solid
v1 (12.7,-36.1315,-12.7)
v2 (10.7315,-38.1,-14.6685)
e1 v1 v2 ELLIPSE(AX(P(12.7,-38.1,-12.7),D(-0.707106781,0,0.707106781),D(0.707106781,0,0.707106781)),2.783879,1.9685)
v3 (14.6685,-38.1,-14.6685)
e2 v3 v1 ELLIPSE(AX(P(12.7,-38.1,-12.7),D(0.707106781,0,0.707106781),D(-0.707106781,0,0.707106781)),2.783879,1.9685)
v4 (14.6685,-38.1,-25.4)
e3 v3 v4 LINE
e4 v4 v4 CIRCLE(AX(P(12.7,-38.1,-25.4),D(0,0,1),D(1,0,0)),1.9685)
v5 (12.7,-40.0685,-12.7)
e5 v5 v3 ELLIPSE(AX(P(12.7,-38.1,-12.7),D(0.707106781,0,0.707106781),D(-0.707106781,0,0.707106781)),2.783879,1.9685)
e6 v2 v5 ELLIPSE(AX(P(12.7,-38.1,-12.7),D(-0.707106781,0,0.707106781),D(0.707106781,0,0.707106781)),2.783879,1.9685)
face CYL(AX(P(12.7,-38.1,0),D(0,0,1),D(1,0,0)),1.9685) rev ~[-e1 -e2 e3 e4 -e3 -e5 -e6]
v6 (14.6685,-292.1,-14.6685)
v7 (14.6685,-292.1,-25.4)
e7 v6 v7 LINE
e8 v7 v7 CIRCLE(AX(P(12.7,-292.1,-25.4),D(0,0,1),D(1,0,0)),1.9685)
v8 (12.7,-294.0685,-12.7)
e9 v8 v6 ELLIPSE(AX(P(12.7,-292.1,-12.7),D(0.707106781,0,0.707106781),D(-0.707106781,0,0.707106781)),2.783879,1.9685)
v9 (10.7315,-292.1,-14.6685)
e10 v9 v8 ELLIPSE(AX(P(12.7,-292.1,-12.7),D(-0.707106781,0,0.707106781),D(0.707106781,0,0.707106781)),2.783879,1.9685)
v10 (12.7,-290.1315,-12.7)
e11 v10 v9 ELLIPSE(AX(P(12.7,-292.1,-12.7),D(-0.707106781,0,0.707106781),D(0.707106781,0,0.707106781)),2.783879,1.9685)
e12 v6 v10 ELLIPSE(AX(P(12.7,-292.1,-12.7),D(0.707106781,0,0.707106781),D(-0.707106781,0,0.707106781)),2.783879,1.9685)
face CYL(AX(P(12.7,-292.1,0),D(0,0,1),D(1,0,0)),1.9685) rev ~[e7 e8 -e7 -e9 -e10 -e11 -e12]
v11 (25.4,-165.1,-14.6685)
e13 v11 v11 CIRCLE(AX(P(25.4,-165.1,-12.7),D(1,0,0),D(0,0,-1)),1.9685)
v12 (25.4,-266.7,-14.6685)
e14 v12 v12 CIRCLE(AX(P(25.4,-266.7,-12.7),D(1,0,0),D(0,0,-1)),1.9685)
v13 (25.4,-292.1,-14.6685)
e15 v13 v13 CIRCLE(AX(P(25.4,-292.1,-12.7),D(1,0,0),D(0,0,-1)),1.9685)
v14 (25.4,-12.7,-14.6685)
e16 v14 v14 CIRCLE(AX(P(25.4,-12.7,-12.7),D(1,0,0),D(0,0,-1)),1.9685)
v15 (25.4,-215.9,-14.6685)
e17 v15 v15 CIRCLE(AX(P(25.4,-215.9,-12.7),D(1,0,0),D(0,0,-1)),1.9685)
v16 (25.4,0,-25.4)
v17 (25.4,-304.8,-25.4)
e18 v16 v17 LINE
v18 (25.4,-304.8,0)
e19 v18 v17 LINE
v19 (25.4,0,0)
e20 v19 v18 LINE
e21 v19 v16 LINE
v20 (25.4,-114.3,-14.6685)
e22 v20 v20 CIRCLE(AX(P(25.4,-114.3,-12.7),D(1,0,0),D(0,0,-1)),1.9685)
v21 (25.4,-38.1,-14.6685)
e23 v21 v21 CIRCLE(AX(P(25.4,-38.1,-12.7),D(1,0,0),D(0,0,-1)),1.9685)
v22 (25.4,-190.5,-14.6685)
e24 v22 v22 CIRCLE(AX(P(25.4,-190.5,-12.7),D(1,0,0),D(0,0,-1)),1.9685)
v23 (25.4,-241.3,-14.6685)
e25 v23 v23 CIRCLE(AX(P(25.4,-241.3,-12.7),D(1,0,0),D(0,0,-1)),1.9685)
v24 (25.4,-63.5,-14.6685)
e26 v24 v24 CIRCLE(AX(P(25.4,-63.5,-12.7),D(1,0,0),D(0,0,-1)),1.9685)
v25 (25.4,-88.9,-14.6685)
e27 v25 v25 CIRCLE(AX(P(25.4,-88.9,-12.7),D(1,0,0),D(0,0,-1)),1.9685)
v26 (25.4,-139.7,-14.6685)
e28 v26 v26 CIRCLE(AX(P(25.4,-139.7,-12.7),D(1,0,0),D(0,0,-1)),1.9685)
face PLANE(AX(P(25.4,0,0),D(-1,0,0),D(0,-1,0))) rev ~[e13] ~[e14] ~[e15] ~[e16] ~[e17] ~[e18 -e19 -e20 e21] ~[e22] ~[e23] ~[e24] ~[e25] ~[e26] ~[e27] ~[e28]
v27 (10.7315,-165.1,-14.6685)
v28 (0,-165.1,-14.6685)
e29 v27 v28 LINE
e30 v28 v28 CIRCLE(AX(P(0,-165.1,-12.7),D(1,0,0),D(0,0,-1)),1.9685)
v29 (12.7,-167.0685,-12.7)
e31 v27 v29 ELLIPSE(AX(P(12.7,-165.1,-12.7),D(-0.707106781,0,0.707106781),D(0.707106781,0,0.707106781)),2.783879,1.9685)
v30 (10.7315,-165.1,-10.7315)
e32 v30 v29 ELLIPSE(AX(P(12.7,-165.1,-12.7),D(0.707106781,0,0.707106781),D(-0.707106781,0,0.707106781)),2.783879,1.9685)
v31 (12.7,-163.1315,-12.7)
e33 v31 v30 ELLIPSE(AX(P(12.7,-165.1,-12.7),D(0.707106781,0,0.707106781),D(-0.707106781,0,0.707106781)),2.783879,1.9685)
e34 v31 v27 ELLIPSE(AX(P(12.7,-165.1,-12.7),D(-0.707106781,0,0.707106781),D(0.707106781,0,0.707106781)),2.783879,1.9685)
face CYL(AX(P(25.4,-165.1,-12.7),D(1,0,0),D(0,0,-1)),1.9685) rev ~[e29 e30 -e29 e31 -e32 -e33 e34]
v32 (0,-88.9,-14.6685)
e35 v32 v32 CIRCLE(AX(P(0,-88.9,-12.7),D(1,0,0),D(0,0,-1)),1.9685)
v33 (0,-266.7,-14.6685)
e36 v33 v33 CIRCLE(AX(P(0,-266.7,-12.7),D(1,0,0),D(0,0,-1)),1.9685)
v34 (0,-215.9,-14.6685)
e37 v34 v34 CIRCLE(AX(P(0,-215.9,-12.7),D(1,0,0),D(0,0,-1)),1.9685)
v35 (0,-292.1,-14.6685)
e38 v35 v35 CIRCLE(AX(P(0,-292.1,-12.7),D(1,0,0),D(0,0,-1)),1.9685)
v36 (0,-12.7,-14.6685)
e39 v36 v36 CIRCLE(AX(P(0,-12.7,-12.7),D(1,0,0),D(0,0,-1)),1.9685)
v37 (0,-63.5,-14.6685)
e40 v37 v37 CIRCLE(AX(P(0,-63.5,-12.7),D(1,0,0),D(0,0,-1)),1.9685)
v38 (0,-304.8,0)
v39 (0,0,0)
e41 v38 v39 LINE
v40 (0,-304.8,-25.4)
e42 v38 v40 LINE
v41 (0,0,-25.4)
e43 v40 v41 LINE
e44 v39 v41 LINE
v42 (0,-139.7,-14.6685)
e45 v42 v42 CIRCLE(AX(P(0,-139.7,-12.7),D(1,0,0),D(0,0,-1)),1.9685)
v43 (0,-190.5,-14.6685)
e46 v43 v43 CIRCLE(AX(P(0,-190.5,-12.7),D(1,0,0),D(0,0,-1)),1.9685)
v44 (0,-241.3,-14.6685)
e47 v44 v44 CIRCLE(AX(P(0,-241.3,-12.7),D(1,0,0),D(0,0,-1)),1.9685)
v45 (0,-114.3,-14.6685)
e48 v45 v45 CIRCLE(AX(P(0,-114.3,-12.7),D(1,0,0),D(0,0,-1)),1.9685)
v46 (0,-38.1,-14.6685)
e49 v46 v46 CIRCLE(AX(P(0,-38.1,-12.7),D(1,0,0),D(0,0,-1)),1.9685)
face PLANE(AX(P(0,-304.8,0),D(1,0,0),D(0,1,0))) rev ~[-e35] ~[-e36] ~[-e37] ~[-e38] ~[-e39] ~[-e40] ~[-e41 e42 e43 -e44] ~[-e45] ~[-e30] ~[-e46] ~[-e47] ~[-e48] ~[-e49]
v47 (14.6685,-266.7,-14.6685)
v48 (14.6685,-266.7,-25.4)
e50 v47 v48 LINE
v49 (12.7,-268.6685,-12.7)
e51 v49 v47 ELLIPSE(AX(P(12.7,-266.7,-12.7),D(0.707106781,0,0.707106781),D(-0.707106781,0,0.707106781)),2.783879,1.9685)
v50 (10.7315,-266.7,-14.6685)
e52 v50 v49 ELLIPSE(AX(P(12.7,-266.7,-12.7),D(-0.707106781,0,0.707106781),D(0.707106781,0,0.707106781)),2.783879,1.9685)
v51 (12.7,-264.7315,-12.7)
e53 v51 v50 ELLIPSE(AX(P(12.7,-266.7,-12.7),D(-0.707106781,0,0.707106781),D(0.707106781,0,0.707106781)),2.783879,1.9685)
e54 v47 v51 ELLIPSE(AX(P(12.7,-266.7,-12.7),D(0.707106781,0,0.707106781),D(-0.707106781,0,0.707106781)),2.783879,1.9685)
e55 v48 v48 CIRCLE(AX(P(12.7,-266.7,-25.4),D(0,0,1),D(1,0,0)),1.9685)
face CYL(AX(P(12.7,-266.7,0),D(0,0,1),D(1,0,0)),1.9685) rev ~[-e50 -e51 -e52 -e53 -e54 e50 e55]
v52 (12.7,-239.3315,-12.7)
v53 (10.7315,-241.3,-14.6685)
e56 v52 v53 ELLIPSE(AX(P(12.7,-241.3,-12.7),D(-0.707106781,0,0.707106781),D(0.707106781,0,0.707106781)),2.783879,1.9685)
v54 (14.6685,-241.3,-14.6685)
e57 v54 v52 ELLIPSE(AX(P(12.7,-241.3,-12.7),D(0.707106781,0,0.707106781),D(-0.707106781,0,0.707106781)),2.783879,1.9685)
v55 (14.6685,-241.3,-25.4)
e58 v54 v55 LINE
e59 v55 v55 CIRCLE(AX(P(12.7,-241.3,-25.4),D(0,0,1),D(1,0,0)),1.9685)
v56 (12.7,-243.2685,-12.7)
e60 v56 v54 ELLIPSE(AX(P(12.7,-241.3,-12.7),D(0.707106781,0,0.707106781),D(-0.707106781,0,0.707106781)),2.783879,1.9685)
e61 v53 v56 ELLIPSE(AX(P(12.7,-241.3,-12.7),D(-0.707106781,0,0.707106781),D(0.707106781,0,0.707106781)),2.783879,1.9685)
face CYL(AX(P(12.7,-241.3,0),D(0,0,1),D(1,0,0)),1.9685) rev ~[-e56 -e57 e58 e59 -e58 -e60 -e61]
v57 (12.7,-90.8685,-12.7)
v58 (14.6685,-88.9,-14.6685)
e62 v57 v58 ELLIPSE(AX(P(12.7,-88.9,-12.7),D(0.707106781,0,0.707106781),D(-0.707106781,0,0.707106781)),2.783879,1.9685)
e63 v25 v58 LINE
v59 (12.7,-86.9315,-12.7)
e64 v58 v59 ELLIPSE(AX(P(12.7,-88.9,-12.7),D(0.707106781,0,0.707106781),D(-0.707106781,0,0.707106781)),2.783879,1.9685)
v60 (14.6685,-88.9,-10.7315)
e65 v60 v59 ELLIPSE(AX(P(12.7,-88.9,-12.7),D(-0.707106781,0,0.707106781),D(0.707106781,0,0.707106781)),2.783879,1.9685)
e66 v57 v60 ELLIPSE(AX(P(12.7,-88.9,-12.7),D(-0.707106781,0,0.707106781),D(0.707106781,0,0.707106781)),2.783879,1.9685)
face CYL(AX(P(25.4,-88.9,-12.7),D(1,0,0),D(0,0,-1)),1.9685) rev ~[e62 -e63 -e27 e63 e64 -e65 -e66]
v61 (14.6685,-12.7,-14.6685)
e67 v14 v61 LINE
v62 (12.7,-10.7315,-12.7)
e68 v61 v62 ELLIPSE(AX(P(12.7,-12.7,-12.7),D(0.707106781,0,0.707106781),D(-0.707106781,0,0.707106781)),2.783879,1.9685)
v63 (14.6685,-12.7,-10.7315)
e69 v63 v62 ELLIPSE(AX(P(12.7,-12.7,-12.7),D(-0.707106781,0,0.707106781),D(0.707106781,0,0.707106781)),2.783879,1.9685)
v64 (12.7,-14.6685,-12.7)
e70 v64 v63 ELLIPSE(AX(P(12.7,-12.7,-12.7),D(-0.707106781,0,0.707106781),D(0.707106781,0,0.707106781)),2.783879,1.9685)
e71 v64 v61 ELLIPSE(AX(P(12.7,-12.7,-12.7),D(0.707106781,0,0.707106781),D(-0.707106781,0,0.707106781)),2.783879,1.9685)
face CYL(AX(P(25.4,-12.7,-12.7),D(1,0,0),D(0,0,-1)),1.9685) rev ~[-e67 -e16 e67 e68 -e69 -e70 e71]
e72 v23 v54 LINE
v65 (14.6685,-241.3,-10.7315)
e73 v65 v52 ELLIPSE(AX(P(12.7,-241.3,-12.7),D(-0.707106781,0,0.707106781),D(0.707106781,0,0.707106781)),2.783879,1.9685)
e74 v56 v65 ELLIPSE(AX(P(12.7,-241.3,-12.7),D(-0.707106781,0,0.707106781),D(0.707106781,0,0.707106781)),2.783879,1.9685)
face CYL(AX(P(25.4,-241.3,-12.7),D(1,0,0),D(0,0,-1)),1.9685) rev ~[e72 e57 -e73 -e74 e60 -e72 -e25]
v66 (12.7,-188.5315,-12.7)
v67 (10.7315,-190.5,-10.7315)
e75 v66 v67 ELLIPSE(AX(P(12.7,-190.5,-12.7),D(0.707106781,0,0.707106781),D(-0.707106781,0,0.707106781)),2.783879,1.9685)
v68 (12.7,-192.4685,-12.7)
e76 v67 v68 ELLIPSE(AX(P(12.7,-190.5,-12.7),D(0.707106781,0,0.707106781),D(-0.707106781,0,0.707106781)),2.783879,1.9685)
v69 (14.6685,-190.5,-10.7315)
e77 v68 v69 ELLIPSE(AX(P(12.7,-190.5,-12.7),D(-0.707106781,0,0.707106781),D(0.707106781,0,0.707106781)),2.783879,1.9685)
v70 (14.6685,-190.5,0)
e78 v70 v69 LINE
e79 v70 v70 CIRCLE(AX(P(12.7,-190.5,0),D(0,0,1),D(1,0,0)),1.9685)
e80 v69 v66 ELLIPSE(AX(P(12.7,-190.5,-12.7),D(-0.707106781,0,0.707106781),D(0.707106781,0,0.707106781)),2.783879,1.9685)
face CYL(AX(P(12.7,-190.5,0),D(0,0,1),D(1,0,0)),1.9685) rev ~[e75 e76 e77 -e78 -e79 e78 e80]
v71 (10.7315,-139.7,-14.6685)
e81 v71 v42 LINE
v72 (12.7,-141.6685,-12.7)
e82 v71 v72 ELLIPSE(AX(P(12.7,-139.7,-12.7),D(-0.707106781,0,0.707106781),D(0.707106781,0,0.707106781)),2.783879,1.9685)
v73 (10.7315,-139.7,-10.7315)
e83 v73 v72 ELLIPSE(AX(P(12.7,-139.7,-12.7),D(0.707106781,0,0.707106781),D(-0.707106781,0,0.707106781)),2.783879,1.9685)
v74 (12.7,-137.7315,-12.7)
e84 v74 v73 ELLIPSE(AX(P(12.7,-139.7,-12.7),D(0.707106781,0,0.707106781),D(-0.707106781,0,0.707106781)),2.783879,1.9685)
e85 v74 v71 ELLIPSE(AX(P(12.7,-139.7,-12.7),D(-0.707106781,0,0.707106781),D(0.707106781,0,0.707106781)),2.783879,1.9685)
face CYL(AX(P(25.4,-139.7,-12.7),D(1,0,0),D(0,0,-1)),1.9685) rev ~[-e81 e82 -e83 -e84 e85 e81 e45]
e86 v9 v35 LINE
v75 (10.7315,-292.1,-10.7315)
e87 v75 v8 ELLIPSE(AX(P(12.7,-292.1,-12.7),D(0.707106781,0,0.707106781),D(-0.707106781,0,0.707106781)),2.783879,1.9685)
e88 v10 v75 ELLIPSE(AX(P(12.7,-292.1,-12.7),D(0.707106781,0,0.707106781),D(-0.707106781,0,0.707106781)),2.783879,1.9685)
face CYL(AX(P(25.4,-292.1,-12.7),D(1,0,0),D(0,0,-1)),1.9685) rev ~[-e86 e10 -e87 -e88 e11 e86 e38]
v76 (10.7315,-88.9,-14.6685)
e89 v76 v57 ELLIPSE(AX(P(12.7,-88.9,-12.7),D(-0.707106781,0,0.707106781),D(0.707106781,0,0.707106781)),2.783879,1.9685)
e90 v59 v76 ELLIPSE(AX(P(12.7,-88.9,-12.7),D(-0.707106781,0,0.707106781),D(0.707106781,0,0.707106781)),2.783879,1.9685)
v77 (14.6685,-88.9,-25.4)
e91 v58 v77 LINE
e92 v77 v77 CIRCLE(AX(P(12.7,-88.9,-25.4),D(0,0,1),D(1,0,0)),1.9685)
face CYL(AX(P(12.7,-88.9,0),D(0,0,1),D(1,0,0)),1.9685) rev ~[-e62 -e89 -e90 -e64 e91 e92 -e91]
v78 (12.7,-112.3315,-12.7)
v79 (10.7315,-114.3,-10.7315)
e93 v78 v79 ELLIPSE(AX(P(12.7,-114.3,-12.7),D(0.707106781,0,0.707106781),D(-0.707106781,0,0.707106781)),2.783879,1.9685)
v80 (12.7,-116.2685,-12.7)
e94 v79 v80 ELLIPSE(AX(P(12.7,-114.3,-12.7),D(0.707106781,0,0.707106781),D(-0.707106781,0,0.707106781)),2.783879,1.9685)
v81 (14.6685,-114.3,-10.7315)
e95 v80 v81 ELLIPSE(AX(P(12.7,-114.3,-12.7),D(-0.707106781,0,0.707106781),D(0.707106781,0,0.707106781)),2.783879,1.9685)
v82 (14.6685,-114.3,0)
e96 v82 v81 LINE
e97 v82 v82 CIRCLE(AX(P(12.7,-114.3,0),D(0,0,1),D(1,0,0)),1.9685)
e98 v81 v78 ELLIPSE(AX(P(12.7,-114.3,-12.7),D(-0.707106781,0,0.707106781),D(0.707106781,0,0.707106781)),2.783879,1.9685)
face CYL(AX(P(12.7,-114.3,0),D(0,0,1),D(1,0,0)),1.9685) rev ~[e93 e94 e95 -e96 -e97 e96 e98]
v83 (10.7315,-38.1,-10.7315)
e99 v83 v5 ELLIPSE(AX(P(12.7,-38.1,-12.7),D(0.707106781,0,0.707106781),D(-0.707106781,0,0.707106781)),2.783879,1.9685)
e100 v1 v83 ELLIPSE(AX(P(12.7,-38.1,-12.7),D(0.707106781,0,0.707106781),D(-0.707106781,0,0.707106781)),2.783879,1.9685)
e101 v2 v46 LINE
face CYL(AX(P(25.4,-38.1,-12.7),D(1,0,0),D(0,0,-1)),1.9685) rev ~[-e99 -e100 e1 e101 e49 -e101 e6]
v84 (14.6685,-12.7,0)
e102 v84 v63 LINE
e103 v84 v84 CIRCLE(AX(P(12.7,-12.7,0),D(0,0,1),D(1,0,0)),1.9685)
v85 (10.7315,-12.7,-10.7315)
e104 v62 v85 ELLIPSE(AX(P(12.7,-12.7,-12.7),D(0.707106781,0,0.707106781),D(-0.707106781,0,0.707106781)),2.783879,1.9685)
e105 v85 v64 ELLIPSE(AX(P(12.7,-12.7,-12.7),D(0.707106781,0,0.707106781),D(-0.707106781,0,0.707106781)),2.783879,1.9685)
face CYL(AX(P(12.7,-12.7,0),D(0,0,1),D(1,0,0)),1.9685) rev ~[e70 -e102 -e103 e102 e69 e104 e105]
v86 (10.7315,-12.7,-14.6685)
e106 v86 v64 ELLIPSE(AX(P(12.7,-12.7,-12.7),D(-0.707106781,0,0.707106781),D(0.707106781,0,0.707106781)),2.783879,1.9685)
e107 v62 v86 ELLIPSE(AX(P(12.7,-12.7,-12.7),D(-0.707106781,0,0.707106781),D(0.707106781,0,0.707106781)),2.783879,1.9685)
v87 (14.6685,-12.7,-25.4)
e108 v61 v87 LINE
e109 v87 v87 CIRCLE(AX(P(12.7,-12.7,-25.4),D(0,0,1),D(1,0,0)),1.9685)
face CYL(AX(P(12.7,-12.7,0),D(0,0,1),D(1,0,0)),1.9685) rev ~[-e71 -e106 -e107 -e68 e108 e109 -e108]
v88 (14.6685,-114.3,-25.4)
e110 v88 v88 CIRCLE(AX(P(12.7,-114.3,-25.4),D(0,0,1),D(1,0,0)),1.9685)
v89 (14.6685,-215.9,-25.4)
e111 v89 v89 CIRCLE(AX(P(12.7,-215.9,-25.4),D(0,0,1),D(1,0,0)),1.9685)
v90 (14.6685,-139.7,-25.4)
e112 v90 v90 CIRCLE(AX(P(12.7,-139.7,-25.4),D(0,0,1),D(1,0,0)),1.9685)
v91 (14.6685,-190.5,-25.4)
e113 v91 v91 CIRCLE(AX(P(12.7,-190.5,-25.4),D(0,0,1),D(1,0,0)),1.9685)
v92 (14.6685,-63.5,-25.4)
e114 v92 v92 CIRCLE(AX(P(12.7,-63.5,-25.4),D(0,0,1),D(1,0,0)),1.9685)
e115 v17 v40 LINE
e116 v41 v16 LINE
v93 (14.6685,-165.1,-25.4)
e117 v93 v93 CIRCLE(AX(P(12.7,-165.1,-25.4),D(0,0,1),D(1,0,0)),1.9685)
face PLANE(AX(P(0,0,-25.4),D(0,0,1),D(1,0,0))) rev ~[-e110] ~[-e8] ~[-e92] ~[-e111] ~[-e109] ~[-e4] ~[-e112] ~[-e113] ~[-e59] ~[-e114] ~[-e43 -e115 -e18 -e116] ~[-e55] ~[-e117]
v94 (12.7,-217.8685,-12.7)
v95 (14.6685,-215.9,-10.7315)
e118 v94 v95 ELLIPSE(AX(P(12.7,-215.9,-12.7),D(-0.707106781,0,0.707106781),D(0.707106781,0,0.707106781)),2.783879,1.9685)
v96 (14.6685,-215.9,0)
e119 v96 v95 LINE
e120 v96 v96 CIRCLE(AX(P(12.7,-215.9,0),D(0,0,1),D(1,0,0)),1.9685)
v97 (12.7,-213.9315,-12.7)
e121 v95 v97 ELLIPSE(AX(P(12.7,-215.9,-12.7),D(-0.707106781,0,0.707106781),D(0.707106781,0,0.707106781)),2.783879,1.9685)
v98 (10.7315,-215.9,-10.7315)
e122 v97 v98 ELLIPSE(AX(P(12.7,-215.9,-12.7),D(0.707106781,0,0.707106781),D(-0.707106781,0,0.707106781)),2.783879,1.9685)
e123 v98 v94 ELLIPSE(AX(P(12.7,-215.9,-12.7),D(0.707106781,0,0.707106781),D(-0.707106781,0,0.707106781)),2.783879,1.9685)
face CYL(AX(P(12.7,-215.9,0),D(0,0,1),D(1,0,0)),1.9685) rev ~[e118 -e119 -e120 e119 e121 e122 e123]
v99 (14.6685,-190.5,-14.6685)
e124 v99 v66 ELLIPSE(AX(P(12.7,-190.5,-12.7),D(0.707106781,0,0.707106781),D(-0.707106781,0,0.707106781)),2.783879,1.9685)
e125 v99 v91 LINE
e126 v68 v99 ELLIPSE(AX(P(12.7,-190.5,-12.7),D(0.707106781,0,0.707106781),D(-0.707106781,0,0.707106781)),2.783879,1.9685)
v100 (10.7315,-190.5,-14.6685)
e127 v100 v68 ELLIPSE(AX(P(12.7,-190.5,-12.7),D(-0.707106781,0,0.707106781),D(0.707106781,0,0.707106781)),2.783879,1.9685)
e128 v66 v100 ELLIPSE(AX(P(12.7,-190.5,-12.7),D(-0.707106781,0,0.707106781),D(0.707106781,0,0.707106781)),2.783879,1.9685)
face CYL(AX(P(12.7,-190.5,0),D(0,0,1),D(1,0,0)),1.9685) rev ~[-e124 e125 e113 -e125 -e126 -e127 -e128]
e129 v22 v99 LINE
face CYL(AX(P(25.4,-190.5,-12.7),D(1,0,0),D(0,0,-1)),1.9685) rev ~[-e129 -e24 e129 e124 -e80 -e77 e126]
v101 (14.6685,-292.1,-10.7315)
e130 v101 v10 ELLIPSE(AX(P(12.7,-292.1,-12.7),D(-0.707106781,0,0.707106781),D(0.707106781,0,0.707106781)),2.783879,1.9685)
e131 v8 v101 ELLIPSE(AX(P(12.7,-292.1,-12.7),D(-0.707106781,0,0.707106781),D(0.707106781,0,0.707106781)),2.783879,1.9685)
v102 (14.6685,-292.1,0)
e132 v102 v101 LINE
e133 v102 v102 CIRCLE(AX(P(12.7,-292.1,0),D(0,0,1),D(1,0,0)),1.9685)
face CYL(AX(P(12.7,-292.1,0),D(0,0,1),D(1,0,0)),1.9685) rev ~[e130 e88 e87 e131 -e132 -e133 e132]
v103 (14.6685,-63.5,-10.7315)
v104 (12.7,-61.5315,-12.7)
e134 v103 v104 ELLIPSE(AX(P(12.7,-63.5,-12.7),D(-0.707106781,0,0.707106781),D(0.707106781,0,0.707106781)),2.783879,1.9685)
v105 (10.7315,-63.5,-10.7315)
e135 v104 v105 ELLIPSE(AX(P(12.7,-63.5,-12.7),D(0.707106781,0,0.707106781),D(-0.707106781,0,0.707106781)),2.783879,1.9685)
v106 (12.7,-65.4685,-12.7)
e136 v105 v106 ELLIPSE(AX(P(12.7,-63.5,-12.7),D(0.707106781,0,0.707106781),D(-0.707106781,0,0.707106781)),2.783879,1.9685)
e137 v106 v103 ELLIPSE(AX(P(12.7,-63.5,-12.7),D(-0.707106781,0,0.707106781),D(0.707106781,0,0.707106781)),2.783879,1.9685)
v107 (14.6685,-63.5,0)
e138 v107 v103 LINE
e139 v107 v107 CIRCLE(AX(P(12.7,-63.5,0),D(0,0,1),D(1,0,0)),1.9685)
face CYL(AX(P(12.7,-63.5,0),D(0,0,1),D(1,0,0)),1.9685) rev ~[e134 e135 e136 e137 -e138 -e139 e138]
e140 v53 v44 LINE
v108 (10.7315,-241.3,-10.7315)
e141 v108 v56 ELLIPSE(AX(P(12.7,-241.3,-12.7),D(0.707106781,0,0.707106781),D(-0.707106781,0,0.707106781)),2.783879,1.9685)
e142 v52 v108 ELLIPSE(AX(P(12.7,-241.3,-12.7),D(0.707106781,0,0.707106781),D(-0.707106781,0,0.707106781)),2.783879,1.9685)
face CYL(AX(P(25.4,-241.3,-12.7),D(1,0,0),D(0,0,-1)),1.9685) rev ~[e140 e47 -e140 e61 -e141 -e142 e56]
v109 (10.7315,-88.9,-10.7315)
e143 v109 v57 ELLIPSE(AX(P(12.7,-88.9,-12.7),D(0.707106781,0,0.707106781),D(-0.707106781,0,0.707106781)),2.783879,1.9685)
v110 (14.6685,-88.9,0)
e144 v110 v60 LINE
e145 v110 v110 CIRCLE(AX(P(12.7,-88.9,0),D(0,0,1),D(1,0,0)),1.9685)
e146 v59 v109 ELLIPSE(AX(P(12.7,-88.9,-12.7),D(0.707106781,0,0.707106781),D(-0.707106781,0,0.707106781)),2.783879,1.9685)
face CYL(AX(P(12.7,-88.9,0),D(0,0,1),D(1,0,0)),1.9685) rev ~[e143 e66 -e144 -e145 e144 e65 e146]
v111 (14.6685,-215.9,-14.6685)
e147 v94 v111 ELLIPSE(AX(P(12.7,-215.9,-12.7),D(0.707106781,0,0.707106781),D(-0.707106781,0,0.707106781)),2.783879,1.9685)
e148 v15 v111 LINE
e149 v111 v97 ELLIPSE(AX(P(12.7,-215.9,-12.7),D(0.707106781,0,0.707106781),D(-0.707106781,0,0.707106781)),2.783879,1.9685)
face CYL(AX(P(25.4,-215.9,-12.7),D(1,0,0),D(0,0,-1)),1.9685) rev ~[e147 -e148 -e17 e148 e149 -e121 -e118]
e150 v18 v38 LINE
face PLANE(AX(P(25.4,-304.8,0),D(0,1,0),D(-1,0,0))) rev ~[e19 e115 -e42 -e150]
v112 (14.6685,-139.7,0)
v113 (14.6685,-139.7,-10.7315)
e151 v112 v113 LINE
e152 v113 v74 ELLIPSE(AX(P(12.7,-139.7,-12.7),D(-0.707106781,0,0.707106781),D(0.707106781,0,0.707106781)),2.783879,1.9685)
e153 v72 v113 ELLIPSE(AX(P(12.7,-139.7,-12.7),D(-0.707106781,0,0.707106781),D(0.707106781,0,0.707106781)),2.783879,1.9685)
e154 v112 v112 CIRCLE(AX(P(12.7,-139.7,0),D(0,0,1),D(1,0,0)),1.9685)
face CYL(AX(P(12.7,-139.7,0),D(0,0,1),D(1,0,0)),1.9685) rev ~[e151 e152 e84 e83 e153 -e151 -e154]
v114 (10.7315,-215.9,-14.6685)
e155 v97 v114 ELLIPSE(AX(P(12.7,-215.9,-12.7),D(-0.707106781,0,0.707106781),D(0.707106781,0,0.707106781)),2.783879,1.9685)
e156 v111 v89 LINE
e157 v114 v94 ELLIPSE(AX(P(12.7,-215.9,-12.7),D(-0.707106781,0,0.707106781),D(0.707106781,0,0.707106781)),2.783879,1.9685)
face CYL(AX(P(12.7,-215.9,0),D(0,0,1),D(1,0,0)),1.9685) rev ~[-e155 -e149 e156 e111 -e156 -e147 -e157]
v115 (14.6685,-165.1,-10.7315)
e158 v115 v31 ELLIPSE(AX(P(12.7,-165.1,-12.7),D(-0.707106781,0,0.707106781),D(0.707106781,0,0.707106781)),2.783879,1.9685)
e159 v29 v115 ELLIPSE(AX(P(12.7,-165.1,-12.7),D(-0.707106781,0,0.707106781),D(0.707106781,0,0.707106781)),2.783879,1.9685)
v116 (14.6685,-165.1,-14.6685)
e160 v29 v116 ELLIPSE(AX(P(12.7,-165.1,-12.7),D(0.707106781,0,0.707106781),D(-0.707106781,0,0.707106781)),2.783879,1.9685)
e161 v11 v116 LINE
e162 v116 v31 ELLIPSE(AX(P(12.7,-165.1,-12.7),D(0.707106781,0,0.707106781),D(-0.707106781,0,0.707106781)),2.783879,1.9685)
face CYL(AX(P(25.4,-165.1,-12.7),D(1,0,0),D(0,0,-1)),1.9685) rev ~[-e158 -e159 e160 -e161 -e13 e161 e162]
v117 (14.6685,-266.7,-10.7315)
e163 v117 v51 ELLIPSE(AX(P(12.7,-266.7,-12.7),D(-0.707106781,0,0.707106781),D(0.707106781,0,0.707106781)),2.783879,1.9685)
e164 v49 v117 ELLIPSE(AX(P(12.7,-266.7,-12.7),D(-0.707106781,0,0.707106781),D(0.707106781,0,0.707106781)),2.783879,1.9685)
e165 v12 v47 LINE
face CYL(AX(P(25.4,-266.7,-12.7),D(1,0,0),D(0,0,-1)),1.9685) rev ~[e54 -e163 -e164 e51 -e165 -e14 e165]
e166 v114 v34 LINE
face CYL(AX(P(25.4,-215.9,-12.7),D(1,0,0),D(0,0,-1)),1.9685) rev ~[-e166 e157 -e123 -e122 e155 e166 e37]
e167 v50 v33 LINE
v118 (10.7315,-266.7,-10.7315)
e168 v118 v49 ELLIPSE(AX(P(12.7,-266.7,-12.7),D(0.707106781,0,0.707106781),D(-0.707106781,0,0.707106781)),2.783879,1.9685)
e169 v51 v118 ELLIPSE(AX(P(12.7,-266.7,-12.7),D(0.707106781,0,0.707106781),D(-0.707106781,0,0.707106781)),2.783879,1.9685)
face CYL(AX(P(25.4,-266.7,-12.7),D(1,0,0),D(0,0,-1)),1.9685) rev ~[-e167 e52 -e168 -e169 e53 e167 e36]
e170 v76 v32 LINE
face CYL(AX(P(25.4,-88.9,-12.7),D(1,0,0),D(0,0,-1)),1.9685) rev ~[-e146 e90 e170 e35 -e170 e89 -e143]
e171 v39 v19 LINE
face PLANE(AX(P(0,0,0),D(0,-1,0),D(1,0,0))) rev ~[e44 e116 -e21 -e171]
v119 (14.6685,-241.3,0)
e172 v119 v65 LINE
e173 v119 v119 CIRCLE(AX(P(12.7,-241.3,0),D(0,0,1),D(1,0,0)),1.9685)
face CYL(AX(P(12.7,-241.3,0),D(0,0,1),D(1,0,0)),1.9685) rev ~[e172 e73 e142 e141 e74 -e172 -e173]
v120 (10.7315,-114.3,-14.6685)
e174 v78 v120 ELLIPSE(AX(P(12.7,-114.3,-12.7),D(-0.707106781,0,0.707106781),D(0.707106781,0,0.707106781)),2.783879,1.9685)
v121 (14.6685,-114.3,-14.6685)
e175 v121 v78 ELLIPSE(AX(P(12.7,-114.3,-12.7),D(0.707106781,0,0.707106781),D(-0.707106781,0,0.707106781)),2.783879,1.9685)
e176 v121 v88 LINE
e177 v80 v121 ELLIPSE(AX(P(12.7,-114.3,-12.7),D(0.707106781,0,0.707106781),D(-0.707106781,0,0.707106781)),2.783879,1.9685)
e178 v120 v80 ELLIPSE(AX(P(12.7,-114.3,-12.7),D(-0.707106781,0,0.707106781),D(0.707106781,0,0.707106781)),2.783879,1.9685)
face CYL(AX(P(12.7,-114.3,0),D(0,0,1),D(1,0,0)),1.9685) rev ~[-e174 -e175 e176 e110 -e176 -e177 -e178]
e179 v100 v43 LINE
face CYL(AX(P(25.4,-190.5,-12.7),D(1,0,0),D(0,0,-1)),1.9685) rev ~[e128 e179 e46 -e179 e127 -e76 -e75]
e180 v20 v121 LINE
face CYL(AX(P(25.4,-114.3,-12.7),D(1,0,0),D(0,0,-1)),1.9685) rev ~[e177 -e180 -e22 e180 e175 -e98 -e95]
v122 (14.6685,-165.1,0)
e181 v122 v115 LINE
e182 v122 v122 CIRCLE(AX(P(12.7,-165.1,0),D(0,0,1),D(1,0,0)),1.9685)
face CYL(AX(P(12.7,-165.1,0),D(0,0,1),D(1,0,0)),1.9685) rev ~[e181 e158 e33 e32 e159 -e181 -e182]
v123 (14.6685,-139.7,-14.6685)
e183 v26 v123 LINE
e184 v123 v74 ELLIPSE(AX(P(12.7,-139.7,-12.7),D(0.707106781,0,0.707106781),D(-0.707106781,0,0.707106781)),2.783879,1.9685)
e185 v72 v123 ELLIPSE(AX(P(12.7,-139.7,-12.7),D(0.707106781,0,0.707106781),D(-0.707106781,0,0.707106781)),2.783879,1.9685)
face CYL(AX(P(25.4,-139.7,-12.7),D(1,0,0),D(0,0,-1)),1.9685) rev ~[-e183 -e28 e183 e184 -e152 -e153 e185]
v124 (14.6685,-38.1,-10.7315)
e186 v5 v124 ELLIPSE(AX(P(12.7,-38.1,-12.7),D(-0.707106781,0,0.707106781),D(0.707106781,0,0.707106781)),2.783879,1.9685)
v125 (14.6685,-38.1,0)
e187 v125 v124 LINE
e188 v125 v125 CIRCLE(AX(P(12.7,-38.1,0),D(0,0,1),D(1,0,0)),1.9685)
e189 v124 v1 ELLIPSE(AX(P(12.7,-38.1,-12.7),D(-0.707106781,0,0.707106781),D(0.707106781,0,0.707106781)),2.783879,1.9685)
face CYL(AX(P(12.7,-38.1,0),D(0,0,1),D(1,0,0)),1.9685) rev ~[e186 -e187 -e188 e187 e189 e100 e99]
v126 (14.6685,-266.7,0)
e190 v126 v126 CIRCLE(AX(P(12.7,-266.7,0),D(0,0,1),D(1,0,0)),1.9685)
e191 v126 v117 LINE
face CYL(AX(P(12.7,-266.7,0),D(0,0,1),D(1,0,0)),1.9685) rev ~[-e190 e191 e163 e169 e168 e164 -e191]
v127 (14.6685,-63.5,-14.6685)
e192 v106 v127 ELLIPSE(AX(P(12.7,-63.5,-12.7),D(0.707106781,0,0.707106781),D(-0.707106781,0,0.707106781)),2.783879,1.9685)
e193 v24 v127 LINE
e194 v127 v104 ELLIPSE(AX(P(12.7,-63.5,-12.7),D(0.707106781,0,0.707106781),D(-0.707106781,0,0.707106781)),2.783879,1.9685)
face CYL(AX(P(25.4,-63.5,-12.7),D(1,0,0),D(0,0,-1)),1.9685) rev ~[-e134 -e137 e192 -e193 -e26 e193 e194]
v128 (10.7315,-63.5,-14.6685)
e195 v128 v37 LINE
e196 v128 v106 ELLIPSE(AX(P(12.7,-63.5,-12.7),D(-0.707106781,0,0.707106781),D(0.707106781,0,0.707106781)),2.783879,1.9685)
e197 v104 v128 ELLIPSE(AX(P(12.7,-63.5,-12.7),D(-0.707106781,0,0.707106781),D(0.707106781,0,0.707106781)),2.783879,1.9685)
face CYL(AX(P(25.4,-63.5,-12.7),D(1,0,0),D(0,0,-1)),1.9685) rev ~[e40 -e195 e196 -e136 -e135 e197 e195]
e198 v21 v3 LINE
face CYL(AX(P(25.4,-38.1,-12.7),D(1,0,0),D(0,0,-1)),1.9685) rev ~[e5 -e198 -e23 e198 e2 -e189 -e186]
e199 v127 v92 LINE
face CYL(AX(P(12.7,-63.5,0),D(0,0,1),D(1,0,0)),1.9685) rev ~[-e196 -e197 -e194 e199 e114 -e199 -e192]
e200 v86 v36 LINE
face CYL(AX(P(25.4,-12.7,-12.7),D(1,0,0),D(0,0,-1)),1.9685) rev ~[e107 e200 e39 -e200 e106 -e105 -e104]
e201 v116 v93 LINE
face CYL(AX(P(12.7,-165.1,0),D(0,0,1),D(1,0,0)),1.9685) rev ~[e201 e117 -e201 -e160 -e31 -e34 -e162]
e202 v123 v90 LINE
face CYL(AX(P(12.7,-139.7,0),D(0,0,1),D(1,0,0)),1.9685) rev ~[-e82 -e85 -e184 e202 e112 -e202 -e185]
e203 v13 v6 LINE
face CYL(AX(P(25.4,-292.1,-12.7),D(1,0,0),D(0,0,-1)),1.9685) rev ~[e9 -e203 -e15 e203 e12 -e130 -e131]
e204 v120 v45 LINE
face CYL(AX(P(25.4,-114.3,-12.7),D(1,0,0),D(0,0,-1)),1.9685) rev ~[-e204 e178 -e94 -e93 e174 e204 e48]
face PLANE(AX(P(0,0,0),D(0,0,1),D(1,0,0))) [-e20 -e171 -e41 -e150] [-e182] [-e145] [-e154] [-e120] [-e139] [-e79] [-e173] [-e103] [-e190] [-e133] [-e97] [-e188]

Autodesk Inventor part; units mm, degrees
ref_plane "YZ Plane" through (0, 0, 0) normal (1, 0, 0) x (0, 1, 0)
ref_plane "XZ Plane" through (0, 0, 0) normal (0, 1, 0) x (-1, 0, 0)
ref_plane "XY Plane" through (0, 0, 0) normal (0, 0, 1) x (1, 0, 0)
sketch "Sketch1" plane through (0, 0, 0) normal (0, 0, 1) x (1, 0, 0)
  line L0 (0, 0) -> (25.4, 0)
  line L1 (25.4, 0) -> (25.4, -304.8)
  line L2 (25.4, -304.8) -> (0, -304.8)
  line L3 (0, -304.8) -> (0, 0)
  dimension "d0" = 304.8
  dimension "d1" = 25.4
extrude "Extrusion1" add sketch "Sketch1" against normal blind 25.4
sketch "Sketch2" plane through (0, 0, 0) normal (0, 0, 1) x (1, 0, 0)
  circle A0 centre (12.7, -12.7) radius 1.9685
  line L0 (25.4, 0) -> (25.4, -304.8) projected
  line L1 (0, 0) -> (25.4, 0) projected
  circle A1 centre (12.7, -38.1) radius 1.9685
  circle A2 centre (12.7, -63.5) radius 1.9685
  circle A3 centre (12.7, -88.9) radius 1.9685
  circle A4 centre (12.7, -114.3) radius 1.9685
  circle A5 centre (12.7, -139.7) radius 1.9685
  circle A6 centre (12.7, -165.1) radius 1.9685
  circle A7 centre (12.7, -190.5) radius 1.9685
  circle A8 centre (12.7, -215.9) radius 1.9685
  circle A9 centre (12.7, -241.3) radius 1.9685
  circle A10 centre (12.7, -266.7) radius 1.9685
  circle A11 centre (12.7, -292.1) radius 1.9685
  dimension "d5" = 3.937
  dimension "d6" = 12.7
  dimension "d7" = 12.7
  dimension "d10" = 25.4
extrude "Extrusion2" cut sketch "Sketch2" against normal blind 304.8
sketch "Sketch3" plane through (25.4, -304.8, 0) normal (1, 0, 0) x (0, 0, -1)
  circle A0 centre (12.7, 292.1) radius 1.9685
  line L0 (0, 304.8) -> (25.4, 304.8) projected
  line L1 (25.4, 304.8) -> (25.4, 0) projected
  circle A1 centre (12.7, 266.7) radius 1.9685
  circle A2 centre (12.7, 241.3) radius 1.9685
  circle A3 centre (12.7, 215.9) radius 1.9685
  circle A4 centre (12.7, 190.5) radius 1.9685
  circle A5 centre (12.7, 165.1) radius 1.9685
  circle A6 centre (12.7, 139.7) radius 1.9685
  circle A7 centre (12.7, 114.3) radius 1.9685
  circle A8 centre (12.7, 88.9) radius 1.9685
  circle A9 centre (12.7, 63.5) radius 1.9685
  circle A10 centre (12.7, 38.1) radius 1.9685
  circle A11 centre (12.7, 12.7) radius 1.9685
  dimension "d17" = 3.937
  dimension "d18" = 12.7
  dimension "d19" = 12.7
  dimension "d22" = 25.4
extrude "Extrusion3" cut sketch "Sketch3" against normal blind 304.8
properties part number "Frame 10"
